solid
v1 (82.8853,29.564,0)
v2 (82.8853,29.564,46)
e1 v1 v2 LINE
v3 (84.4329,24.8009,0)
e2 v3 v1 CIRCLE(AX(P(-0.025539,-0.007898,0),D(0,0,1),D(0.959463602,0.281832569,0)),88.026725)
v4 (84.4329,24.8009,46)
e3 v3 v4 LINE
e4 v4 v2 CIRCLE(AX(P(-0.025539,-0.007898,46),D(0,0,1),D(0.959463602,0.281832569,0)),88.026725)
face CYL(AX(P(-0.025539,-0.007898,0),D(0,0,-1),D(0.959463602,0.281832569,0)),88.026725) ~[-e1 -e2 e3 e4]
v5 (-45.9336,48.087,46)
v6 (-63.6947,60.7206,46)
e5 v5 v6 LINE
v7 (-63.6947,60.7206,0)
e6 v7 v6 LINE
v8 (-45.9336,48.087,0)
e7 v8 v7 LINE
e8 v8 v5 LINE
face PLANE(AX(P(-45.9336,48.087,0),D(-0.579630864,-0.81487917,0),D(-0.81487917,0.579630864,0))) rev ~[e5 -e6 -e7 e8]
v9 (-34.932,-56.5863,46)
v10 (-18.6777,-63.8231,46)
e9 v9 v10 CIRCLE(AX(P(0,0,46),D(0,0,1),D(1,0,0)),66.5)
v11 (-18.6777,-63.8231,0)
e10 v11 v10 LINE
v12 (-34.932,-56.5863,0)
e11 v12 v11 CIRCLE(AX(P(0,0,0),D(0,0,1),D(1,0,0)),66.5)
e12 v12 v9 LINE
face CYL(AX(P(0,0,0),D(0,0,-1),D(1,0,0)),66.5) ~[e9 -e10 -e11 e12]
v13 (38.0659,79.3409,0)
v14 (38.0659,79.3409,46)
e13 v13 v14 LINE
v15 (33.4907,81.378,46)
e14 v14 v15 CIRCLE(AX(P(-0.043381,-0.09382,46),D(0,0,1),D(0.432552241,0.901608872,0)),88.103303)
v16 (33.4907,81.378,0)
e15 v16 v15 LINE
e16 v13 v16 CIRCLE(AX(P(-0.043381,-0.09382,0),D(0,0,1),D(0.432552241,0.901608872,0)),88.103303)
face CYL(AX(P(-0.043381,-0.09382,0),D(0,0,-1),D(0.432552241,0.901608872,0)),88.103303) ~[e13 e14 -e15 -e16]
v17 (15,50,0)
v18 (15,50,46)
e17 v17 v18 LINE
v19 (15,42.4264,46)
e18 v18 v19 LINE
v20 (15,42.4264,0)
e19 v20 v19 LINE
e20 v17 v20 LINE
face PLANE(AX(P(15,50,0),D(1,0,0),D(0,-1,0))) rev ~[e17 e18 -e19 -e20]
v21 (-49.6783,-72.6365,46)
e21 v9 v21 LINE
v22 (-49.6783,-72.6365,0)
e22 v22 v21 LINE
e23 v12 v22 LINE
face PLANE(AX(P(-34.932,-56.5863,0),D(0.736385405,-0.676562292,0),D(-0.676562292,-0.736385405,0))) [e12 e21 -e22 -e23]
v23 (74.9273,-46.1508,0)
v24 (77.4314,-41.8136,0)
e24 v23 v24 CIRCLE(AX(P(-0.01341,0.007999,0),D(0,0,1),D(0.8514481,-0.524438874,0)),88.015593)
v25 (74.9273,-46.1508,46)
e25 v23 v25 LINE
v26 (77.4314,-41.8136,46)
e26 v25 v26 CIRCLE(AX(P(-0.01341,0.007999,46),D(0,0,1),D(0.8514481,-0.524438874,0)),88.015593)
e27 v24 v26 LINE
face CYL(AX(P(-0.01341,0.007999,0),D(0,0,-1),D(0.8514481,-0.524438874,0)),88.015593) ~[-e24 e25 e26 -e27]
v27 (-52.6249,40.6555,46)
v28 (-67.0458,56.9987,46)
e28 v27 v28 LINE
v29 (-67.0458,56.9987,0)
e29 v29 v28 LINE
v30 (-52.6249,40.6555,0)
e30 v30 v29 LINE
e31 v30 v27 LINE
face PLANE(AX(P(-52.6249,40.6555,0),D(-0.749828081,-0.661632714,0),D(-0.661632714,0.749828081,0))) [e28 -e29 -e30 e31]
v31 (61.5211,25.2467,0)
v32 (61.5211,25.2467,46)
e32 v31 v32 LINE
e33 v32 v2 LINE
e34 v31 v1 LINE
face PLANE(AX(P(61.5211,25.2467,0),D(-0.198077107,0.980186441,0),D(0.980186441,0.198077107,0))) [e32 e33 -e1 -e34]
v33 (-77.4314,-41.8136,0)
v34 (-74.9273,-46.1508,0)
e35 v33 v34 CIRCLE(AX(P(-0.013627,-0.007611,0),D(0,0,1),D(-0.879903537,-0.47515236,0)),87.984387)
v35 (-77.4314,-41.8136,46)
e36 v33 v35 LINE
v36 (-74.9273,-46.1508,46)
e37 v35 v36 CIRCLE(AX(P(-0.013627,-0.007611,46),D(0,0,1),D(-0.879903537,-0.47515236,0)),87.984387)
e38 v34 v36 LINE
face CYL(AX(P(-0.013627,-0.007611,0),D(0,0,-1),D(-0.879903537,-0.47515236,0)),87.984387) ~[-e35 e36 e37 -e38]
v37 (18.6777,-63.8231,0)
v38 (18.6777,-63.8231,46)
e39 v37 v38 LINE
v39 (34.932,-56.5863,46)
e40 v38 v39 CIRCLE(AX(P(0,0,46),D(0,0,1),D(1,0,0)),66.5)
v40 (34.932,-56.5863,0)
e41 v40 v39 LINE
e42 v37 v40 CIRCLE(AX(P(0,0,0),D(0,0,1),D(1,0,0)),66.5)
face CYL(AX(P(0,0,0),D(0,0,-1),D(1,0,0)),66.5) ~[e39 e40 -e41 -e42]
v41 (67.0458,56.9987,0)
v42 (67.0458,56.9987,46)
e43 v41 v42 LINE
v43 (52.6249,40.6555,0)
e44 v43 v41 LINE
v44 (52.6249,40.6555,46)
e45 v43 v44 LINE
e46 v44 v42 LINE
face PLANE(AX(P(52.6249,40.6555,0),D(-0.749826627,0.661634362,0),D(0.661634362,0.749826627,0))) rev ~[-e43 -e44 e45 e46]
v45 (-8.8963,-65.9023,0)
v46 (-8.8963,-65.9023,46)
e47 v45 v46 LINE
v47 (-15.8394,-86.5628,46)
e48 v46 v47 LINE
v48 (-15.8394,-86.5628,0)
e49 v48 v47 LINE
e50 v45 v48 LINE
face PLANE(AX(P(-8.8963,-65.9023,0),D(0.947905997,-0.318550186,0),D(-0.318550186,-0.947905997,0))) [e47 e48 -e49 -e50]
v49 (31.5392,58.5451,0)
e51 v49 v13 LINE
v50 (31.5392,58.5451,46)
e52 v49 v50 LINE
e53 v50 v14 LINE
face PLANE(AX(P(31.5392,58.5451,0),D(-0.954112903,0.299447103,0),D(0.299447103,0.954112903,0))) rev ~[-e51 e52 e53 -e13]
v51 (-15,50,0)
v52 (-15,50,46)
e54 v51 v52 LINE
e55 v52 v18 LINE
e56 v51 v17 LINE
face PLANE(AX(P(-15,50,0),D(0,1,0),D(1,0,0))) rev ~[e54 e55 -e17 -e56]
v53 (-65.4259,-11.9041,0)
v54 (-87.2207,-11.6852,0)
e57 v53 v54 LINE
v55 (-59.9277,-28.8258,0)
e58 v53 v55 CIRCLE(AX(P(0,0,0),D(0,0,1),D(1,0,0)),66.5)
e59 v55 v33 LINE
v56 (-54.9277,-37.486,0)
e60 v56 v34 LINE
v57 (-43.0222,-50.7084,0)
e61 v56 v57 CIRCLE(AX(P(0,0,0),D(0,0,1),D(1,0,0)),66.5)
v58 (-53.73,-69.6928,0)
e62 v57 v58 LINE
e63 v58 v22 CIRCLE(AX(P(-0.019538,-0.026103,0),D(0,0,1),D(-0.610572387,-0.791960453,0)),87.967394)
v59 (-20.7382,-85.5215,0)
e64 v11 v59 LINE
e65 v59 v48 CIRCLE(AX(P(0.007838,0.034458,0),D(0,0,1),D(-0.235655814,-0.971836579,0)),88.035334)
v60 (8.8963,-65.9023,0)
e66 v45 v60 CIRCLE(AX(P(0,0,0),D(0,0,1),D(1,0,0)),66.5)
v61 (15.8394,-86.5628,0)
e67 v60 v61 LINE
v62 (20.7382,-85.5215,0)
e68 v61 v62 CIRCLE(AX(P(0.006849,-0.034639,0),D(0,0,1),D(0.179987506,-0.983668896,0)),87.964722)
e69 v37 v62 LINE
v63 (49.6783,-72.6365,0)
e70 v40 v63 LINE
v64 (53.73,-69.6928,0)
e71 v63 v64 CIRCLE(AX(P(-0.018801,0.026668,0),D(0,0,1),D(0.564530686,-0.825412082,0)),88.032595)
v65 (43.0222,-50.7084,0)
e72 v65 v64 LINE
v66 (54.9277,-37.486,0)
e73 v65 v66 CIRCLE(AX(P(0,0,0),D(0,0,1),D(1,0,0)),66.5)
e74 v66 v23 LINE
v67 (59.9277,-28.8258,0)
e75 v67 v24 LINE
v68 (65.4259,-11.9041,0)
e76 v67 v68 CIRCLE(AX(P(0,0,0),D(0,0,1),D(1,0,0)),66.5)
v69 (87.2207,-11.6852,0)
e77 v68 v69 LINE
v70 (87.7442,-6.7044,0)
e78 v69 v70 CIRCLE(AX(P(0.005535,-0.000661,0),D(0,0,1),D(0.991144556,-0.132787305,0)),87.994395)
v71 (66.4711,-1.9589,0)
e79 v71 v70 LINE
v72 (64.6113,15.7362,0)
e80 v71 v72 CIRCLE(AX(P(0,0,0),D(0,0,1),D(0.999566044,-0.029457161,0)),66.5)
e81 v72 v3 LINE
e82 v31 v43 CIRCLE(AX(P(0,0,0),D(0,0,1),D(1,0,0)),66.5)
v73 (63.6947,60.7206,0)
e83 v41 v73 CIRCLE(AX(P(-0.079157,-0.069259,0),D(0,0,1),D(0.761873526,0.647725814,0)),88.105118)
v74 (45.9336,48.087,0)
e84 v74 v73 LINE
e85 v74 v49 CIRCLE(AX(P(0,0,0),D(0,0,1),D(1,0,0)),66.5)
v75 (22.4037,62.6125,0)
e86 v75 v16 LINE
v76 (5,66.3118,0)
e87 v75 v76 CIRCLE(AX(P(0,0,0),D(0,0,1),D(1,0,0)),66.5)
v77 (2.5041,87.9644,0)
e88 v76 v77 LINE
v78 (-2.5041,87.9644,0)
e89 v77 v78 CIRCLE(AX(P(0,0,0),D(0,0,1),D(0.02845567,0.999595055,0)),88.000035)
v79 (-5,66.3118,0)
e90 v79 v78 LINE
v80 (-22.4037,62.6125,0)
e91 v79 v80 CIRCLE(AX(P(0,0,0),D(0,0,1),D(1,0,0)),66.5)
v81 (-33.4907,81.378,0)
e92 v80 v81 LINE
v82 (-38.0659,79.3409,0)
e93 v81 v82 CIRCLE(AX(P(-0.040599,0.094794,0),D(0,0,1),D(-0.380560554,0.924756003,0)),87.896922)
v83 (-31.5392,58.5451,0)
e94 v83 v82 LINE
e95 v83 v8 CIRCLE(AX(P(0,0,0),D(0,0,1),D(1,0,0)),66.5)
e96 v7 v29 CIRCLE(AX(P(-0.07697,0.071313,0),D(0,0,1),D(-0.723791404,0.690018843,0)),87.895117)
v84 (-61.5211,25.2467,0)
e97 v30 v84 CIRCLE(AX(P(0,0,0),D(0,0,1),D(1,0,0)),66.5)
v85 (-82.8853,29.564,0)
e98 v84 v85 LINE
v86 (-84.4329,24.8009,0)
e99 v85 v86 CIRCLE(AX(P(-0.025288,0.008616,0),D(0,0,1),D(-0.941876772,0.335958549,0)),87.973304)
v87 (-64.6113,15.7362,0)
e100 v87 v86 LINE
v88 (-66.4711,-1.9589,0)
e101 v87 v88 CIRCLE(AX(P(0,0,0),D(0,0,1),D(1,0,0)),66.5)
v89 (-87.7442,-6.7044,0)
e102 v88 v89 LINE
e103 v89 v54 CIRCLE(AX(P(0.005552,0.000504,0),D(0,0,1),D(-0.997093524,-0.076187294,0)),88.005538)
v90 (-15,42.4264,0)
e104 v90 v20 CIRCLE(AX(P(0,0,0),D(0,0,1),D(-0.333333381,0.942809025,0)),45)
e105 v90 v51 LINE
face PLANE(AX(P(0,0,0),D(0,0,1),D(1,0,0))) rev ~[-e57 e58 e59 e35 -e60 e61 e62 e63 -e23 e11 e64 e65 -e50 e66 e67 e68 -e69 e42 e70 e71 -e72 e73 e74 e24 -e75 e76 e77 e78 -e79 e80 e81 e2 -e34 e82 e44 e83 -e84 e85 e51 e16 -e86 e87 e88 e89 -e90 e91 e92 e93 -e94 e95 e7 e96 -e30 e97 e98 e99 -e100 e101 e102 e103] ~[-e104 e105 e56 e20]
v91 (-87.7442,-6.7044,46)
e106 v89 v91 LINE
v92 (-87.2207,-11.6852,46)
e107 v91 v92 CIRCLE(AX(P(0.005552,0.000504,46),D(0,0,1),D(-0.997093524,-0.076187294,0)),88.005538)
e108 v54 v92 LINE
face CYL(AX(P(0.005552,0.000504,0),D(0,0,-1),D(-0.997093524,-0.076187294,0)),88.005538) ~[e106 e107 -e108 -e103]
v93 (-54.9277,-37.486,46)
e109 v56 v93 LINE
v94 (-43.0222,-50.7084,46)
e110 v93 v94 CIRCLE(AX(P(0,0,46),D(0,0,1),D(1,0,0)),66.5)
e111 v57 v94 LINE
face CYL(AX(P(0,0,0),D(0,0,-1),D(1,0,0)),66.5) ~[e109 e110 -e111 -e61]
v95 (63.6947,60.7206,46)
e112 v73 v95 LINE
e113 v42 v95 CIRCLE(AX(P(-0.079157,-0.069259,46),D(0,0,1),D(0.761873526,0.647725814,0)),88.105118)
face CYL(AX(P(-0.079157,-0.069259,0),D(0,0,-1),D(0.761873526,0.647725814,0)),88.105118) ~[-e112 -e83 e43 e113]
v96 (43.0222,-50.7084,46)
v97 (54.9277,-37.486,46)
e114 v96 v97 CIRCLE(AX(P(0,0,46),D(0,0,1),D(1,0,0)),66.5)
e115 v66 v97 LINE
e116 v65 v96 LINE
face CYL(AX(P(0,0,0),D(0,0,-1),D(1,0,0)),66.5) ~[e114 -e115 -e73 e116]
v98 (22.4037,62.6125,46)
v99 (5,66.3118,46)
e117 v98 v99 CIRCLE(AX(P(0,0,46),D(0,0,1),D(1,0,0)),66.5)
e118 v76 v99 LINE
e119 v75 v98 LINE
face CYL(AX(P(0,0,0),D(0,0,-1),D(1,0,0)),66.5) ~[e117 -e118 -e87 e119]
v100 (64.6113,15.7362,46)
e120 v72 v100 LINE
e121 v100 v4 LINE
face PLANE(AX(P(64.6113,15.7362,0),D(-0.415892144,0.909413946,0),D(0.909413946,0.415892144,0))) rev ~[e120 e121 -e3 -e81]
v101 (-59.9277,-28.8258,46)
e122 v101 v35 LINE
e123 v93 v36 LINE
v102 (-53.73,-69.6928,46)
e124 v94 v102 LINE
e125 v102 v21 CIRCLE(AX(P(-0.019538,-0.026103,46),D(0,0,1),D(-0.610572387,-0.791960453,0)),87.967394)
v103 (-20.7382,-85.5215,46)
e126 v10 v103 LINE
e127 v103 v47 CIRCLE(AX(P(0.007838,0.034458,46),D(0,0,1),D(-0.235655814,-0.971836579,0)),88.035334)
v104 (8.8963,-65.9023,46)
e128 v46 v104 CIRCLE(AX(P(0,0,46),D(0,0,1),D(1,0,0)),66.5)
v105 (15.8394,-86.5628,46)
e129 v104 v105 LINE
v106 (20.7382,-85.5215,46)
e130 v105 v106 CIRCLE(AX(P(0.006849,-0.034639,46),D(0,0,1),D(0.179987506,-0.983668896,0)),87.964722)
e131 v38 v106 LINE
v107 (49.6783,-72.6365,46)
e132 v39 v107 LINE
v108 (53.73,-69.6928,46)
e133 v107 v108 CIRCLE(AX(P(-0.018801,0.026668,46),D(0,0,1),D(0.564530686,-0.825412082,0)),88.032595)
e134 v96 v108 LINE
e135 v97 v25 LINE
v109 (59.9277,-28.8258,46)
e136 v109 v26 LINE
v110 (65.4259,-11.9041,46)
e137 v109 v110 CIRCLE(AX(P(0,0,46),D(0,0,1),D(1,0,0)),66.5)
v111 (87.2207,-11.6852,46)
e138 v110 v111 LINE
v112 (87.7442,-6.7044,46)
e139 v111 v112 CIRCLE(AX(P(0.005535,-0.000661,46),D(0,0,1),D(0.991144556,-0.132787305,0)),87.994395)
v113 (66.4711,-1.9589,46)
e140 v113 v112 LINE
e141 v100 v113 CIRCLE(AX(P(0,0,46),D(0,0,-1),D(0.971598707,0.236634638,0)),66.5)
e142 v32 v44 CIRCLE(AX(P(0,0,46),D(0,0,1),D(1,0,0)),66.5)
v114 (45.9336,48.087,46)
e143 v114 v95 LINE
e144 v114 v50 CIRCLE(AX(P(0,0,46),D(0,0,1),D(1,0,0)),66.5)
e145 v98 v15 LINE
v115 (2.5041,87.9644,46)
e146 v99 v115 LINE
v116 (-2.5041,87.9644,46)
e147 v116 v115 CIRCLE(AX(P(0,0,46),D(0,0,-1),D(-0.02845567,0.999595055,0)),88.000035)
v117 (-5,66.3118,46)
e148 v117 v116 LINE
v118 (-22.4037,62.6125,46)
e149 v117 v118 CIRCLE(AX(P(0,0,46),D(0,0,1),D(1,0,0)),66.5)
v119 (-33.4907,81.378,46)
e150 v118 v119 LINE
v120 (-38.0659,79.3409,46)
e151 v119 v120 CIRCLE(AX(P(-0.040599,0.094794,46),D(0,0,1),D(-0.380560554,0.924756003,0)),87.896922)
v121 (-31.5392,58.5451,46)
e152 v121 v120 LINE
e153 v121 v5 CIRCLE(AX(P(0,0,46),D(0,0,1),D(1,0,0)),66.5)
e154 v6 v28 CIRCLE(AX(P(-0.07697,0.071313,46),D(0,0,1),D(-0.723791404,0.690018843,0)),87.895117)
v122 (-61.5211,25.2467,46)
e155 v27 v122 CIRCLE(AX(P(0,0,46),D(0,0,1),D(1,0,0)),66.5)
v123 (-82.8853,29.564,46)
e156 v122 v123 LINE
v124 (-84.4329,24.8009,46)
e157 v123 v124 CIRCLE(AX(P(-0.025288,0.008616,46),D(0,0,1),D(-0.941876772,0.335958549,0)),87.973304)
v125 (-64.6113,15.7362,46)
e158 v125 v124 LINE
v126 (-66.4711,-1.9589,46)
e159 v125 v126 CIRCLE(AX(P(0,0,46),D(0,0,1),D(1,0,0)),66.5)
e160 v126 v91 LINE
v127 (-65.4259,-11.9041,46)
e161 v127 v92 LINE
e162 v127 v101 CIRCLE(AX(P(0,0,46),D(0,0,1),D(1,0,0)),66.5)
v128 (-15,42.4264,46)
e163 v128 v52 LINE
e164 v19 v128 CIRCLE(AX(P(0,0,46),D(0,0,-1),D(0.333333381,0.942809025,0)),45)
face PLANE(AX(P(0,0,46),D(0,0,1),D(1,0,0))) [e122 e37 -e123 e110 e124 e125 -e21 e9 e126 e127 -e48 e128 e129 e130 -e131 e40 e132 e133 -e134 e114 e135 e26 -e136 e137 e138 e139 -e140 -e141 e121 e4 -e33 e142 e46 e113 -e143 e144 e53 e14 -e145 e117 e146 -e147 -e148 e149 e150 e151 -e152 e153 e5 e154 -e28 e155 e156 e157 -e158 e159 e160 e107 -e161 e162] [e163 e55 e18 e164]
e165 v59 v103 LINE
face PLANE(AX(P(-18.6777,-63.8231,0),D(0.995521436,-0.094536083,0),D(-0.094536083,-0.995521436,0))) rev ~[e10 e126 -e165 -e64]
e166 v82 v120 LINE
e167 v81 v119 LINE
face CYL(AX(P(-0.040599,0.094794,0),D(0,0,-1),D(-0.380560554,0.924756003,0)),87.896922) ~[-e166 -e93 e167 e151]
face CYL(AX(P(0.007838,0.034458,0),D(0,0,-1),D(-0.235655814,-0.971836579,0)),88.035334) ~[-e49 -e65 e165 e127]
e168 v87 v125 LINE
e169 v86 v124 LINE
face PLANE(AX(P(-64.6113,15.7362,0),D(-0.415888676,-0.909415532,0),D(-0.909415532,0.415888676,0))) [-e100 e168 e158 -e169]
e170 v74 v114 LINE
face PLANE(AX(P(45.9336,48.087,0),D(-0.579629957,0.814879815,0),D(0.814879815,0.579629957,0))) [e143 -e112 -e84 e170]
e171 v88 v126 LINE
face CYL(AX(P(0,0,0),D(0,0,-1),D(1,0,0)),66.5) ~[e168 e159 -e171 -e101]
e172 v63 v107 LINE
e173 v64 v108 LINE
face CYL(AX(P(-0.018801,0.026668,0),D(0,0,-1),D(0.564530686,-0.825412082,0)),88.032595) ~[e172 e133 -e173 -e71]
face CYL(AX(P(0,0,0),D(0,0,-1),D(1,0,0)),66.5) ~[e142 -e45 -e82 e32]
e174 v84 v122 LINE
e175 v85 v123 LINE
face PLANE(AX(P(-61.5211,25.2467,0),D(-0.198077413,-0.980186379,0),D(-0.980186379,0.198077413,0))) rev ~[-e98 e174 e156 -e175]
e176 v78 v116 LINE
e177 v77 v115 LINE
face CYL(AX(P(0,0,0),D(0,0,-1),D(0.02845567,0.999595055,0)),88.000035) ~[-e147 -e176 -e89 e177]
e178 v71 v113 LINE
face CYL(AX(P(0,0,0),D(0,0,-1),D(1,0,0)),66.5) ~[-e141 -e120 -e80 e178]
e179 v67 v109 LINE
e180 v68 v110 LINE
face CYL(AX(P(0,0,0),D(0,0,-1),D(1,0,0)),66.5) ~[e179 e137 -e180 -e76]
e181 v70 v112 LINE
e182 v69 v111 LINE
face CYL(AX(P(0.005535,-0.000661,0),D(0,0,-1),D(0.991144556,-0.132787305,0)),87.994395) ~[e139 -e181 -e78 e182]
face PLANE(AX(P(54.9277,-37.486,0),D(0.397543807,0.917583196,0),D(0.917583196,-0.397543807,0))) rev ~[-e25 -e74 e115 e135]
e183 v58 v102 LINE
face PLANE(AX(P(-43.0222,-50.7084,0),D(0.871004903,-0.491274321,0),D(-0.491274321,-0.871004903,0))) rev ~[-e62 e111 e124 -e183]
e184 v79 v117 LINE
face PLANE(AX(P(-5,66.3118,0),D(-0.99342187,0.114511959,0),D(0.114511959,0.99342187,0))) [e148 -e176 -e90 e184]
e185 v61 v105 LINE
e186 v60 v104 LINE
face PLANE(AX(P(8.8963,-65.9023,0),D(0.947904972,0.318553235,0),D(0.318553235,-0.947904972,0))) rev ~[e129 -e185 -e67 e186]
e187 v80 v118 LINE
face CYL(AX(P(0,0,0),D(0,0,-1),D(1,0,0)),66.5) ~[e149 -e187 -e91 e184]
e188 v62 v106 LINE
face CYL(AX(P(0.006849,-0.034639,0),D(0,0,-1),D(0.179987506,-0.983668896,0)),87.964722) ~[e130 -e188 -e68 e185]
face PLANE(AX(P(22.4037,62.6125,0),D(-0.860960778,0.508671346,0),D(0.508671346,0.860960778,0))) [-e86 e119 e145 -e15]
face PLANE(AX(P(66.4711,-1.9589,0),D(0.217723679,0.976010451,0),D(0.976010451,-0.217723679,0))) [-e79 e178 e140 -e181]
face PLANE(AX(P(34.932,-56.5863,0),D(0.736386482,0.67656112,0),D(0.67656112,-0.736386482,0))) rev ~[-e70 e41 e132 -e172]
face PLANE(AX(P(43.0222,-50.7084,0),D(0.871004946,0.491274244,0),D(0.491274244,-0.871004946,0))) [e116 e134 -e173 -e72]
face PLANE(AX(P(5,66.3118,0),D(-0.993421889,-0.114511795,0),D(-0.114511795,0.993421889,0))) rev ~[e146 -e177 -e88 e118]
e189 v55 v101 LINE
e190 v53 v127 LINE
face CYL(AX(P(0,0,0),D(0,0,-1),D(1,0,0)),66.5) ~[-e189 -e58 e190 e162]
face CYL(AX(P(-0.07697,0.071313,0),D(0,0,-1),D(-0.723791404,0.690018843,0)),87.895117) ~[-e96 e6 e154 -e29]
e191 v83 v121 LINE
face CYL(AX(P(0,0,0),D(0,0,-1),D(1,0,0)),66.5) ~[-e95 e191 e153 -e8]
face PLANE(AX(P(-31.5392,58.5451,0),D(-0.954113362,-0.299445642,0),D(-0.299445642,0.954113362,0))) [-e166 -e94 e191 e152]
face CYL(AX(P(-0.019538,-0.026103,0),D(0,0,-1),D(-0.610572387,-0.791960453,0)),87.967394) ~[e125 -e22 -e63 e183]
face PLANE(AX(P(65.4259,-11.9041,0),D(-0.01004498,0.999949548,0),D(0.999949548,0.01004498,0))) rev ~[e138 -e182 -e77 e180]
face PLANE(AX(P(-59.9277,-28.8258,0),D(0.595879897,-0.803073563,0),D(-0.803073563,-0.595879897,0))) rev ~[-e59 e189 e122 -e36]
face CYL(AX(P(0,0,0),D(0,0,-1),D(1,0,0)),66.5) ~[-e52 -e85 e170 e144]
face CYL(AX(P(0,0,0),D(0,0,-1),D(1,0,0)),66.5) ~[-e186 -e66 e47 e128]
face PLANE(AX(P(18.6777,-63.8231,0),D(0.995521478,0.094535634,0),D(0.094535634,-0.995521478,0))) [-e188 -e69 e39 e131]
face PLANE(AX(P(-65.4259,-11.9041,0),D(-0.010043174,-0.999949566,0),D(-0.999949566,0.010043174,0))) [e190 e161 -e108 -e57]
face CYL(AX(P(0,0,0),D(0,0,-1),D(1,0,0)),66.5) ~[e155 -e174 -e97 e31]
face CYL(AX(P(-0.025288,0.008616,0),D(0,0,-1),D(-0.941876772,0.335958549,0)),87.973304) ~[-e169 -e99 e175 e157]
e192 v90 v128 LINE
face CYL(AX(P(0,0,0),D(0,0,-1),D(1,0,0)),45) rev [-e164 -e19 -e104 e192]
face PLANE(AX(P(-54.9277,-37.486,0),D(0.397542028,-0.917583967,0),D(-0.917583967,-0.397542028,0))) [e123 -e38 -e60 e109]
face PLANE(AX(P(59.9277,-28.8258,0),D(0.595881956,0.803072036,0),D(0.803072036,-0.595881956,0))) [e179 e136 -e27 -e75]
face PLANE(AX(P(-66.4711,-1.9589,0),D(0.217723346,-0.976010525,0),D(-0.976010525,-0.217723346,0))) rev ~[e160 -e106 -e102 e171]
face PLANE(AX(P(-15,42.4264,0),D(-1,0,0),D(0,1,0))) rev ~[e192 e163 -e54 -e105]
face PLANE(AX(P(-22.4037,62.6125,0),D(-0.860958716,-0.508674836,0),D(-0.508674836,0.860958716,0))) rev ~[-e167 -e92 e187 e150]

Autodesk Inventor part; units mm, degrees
ref_plane "YZ Plane" through (0, 0, 0) normal (1, 0, 0) x (0, 1, 0)
sketch "Sketch1" plane through (0, 0, 0) normal (0, 0, 1) x (1, 0, 0)
  point P0 (0, 0)
sketch "Sketch2" plane through (0, 0, 0) normal (0, 0, 1) x (1, 0, 0)
  circle A0 centre (0, 0) radius 45
  circle A1 centre (0, 0) radius 66.5
  line L0 (-15, 42.4264) -> (-15, 50)
  line L1 (-15, 50) -> (15, 50)
  line L2 (15, 50) -> (15, 42.4264)
  line L3 (5, 88) -> (5, 87.8578)
  line L4 (0, 88) -> (0, 87.8578)
  line L5 (-5, 66.3118) -> (-2.5041, 87.9644)
  line L6 (5, 66.3118) -> (2.5, 88)
  arc A2 (2.5041, 87.9644) -> (-2.5041, 87.9644) centre (0, 0) ccw
  arc A3 (72.6365, 49.6783) -> (72.4155, 50) centre (0, 0) ccw
  arc A4 (84.4329, 24.8009) -> (82.8853, 29.564) centre (0, 0) ccw
  arc A5 (49.6783, -72.6365) -> (53.73, -69.6928) centre (0, 0) ccw
  arc A6 (-53.73, -69.6928) -> (-49.6783, -72.6365) centre (0, 0) ccw
  arc A7 (-82.8853, 29.564) -> (-84.4329, 24.8009) centre (0, 0) ccw
  line L7 (-31.5392, 58.5451) -> (-38.0659, 79.3409)
  line L8 (-22.4037, 62.6125) -> (-33.509, 81.4088)
  arc A8 (-33.4907, 81.378) -> (-38.0659, 79.3409) centre (0, 0) ccw
  line L9 (-52.6249, 40.6555) -> (-67.0458, 56.9987)
  line L10 (-45.9336, 48.087) -> (-63.7239, 60.7414)
  arc A9 (-63.6947, 60.7206) -> (-67.0458, 56.9987) centre (0, 0) ccw
  line L11 (-64.6113, 15.7362) -> (-84.4329, 24.8009)
  line L12 (-61.5211, 25.2467) -> (-82.9204, 29.5711)
  arc A10 (-82.8853, 29.564) -> (-84.4329, 24.8009) centre (0, 0) ccw
  line L13 (-65.4259, -11.9041) -> (-87.2207, -11.6852)
  line L14 (-66.4711, -1.9589) -> (-87.7792, -6.7122)
  arc A11 (-87.7442, -6.7044) -> (-87.2207, -11.6852) centre (0, 0) ccw
  line L15 (-54.9277, -37.486) -> (-74.9273, -46.1508)
  line L16 (-59.9277, -28.8258) -> (-77.4602, -41.8349)
  arc A12 (-77.4314, -41.8136) -> (-74.9273, -46.1508) centre (0, 0) ccw
  line L17 (-34.932, -56.5863) -> (-49.6783, -72.6365)
  line L18 (-43.0222, -50.7084) -> (-53.7476, -69.724)
  arc A13 (-53.73, -69.6928) -> (-49.6783, -72.6365) centre (0, 0) ccw
  line L19 (-8.8963, -65.9023) -> (-15.8394, -86.5628)
  line L20 (-18.6777, -63.8231) -> (-20.7416, -85.5572)
  arc A14 (-20.7382, -85.5215) -> (-15.8394, -86.5628) centre (0, 0) ccw
  line L21 (18.6777, -63.8231) -> (20.7382, -85.5215)
  line L22 (8.8963, -65.9023) -> (15.8509, -86.5968)
  arc A15 (15.8394, -86.5628) -> (20.7382, -85.5215) centre (0, 0) ccw
  line L23 (43.0222, -50.7084) -> (53.73, -69.6928)
  line L24 (34.932, -56.5863) -> (49.7026, -72.663)
  arc A16 (49.6783, -72.6365) -> (53.73, -69.6928) centre (0, 0) ccw
  line L25 (59.9277, -28.8258) -> (77.4314, -41.8136)
  line L26 (54.9277, -37.486) -> (74.9602, -46.1651)
  arc A17 (74.9273, -46.1508) -> (77.4314, -41.8136) centre (0, 0) ccw
  line L27 (66.4711, -1.9589) -> (87.7442, -6.7044)
  line L28 (65.4259, -11.9041) -> (87.2566, -11.6848)
  arc A18 (87.2207, -11.6852) -> (87.7442, -6.7044) centre (0, 0) ccw
  line L29 (61.5211, 25.2467) -> (82.8853, 29.564)
  line L30 (64.6113, 15.7362) -> (84.4655, 24.8159)
  arc A19 (84.4329, 24.8009) -> (82.8853, 29.564) centre (0, 0) ccw
  line L31 (45.9336, 48.087) -> (63.6947, 60.7206)
  line L32 (52.6249, 40.6555) -> (67.0696, 57.0256)
  arc A20 (67.0458, 56.9987) -> (63.6947, 60.7206) centre (0, 0) ccw
  line L33 (22.4037, 62.6125) -> (33.4907, 81.378)
  line L34 (31.5392, 58.5451) -> (38.0767, 79.3752)
  arc A21 (38.0659, 79.3409) -> (33.4907, 81.378) centre (0, 0) ccw
  point P0 (15, 46.2132)
  point P1 (-15, 46.2132)
  point P2 (5, 77.1559)
  point P3 (0, 77.1559)
  point P4 (0, -88)
  point P5 (-82.8853, 29.564)
  point P6 (-84.4329, 24.8009)
  point P7 (-53.73, -69.6928)
  point P8 (-49.6783, -72.6365)
  point P9 (49.6783, -72.6365)
  point P10 (53.73, -69.6928)
  point P11 (82.8853, 29.564)
  dimension "d2" = 90
  dimension "d3" = 21.5
  dimension "d4" = 30
  dimension "d5" = 50
  dimension "d6" = 88
  dimension "d7" = 15
  dimension "d10" = 38
  dimension "d17" = 360
extrude "Extrusion1" add sketch "Sketch2" along normal blind 46 contours A1
ref_plane "Work Plane1" through (0, 0, 23) normal (0, 0, 1) x (1, 0, 0)
ref_plane "Work Plane2" through (0, 0, 23) normal (0, 0, 1) x (1, 0, 0)
extrude "Extrusion2" add sketch "Sketch2" along normal blind 46 contours A1 L29 A4 L30 | L27 A18 L28 A1 | A1 L31 A20 L32 | L25 A17 L26 A1 | A1 L33 A21 L34 | L23 A5 L24 A1 | A1 L5 A2 L6 | L21 A15 L22 A1 | A1 L7 A8 L8 | L19 A14 L20 A1 | A1 L9 A9 L10 | L17 A6 L18 A1 | A1 L11 A7 L12 | L15 A12 L16 A1 | A1 L13 A11 L14
properties part number "Engranaje pequeño" material "Steel, Galvanized"
